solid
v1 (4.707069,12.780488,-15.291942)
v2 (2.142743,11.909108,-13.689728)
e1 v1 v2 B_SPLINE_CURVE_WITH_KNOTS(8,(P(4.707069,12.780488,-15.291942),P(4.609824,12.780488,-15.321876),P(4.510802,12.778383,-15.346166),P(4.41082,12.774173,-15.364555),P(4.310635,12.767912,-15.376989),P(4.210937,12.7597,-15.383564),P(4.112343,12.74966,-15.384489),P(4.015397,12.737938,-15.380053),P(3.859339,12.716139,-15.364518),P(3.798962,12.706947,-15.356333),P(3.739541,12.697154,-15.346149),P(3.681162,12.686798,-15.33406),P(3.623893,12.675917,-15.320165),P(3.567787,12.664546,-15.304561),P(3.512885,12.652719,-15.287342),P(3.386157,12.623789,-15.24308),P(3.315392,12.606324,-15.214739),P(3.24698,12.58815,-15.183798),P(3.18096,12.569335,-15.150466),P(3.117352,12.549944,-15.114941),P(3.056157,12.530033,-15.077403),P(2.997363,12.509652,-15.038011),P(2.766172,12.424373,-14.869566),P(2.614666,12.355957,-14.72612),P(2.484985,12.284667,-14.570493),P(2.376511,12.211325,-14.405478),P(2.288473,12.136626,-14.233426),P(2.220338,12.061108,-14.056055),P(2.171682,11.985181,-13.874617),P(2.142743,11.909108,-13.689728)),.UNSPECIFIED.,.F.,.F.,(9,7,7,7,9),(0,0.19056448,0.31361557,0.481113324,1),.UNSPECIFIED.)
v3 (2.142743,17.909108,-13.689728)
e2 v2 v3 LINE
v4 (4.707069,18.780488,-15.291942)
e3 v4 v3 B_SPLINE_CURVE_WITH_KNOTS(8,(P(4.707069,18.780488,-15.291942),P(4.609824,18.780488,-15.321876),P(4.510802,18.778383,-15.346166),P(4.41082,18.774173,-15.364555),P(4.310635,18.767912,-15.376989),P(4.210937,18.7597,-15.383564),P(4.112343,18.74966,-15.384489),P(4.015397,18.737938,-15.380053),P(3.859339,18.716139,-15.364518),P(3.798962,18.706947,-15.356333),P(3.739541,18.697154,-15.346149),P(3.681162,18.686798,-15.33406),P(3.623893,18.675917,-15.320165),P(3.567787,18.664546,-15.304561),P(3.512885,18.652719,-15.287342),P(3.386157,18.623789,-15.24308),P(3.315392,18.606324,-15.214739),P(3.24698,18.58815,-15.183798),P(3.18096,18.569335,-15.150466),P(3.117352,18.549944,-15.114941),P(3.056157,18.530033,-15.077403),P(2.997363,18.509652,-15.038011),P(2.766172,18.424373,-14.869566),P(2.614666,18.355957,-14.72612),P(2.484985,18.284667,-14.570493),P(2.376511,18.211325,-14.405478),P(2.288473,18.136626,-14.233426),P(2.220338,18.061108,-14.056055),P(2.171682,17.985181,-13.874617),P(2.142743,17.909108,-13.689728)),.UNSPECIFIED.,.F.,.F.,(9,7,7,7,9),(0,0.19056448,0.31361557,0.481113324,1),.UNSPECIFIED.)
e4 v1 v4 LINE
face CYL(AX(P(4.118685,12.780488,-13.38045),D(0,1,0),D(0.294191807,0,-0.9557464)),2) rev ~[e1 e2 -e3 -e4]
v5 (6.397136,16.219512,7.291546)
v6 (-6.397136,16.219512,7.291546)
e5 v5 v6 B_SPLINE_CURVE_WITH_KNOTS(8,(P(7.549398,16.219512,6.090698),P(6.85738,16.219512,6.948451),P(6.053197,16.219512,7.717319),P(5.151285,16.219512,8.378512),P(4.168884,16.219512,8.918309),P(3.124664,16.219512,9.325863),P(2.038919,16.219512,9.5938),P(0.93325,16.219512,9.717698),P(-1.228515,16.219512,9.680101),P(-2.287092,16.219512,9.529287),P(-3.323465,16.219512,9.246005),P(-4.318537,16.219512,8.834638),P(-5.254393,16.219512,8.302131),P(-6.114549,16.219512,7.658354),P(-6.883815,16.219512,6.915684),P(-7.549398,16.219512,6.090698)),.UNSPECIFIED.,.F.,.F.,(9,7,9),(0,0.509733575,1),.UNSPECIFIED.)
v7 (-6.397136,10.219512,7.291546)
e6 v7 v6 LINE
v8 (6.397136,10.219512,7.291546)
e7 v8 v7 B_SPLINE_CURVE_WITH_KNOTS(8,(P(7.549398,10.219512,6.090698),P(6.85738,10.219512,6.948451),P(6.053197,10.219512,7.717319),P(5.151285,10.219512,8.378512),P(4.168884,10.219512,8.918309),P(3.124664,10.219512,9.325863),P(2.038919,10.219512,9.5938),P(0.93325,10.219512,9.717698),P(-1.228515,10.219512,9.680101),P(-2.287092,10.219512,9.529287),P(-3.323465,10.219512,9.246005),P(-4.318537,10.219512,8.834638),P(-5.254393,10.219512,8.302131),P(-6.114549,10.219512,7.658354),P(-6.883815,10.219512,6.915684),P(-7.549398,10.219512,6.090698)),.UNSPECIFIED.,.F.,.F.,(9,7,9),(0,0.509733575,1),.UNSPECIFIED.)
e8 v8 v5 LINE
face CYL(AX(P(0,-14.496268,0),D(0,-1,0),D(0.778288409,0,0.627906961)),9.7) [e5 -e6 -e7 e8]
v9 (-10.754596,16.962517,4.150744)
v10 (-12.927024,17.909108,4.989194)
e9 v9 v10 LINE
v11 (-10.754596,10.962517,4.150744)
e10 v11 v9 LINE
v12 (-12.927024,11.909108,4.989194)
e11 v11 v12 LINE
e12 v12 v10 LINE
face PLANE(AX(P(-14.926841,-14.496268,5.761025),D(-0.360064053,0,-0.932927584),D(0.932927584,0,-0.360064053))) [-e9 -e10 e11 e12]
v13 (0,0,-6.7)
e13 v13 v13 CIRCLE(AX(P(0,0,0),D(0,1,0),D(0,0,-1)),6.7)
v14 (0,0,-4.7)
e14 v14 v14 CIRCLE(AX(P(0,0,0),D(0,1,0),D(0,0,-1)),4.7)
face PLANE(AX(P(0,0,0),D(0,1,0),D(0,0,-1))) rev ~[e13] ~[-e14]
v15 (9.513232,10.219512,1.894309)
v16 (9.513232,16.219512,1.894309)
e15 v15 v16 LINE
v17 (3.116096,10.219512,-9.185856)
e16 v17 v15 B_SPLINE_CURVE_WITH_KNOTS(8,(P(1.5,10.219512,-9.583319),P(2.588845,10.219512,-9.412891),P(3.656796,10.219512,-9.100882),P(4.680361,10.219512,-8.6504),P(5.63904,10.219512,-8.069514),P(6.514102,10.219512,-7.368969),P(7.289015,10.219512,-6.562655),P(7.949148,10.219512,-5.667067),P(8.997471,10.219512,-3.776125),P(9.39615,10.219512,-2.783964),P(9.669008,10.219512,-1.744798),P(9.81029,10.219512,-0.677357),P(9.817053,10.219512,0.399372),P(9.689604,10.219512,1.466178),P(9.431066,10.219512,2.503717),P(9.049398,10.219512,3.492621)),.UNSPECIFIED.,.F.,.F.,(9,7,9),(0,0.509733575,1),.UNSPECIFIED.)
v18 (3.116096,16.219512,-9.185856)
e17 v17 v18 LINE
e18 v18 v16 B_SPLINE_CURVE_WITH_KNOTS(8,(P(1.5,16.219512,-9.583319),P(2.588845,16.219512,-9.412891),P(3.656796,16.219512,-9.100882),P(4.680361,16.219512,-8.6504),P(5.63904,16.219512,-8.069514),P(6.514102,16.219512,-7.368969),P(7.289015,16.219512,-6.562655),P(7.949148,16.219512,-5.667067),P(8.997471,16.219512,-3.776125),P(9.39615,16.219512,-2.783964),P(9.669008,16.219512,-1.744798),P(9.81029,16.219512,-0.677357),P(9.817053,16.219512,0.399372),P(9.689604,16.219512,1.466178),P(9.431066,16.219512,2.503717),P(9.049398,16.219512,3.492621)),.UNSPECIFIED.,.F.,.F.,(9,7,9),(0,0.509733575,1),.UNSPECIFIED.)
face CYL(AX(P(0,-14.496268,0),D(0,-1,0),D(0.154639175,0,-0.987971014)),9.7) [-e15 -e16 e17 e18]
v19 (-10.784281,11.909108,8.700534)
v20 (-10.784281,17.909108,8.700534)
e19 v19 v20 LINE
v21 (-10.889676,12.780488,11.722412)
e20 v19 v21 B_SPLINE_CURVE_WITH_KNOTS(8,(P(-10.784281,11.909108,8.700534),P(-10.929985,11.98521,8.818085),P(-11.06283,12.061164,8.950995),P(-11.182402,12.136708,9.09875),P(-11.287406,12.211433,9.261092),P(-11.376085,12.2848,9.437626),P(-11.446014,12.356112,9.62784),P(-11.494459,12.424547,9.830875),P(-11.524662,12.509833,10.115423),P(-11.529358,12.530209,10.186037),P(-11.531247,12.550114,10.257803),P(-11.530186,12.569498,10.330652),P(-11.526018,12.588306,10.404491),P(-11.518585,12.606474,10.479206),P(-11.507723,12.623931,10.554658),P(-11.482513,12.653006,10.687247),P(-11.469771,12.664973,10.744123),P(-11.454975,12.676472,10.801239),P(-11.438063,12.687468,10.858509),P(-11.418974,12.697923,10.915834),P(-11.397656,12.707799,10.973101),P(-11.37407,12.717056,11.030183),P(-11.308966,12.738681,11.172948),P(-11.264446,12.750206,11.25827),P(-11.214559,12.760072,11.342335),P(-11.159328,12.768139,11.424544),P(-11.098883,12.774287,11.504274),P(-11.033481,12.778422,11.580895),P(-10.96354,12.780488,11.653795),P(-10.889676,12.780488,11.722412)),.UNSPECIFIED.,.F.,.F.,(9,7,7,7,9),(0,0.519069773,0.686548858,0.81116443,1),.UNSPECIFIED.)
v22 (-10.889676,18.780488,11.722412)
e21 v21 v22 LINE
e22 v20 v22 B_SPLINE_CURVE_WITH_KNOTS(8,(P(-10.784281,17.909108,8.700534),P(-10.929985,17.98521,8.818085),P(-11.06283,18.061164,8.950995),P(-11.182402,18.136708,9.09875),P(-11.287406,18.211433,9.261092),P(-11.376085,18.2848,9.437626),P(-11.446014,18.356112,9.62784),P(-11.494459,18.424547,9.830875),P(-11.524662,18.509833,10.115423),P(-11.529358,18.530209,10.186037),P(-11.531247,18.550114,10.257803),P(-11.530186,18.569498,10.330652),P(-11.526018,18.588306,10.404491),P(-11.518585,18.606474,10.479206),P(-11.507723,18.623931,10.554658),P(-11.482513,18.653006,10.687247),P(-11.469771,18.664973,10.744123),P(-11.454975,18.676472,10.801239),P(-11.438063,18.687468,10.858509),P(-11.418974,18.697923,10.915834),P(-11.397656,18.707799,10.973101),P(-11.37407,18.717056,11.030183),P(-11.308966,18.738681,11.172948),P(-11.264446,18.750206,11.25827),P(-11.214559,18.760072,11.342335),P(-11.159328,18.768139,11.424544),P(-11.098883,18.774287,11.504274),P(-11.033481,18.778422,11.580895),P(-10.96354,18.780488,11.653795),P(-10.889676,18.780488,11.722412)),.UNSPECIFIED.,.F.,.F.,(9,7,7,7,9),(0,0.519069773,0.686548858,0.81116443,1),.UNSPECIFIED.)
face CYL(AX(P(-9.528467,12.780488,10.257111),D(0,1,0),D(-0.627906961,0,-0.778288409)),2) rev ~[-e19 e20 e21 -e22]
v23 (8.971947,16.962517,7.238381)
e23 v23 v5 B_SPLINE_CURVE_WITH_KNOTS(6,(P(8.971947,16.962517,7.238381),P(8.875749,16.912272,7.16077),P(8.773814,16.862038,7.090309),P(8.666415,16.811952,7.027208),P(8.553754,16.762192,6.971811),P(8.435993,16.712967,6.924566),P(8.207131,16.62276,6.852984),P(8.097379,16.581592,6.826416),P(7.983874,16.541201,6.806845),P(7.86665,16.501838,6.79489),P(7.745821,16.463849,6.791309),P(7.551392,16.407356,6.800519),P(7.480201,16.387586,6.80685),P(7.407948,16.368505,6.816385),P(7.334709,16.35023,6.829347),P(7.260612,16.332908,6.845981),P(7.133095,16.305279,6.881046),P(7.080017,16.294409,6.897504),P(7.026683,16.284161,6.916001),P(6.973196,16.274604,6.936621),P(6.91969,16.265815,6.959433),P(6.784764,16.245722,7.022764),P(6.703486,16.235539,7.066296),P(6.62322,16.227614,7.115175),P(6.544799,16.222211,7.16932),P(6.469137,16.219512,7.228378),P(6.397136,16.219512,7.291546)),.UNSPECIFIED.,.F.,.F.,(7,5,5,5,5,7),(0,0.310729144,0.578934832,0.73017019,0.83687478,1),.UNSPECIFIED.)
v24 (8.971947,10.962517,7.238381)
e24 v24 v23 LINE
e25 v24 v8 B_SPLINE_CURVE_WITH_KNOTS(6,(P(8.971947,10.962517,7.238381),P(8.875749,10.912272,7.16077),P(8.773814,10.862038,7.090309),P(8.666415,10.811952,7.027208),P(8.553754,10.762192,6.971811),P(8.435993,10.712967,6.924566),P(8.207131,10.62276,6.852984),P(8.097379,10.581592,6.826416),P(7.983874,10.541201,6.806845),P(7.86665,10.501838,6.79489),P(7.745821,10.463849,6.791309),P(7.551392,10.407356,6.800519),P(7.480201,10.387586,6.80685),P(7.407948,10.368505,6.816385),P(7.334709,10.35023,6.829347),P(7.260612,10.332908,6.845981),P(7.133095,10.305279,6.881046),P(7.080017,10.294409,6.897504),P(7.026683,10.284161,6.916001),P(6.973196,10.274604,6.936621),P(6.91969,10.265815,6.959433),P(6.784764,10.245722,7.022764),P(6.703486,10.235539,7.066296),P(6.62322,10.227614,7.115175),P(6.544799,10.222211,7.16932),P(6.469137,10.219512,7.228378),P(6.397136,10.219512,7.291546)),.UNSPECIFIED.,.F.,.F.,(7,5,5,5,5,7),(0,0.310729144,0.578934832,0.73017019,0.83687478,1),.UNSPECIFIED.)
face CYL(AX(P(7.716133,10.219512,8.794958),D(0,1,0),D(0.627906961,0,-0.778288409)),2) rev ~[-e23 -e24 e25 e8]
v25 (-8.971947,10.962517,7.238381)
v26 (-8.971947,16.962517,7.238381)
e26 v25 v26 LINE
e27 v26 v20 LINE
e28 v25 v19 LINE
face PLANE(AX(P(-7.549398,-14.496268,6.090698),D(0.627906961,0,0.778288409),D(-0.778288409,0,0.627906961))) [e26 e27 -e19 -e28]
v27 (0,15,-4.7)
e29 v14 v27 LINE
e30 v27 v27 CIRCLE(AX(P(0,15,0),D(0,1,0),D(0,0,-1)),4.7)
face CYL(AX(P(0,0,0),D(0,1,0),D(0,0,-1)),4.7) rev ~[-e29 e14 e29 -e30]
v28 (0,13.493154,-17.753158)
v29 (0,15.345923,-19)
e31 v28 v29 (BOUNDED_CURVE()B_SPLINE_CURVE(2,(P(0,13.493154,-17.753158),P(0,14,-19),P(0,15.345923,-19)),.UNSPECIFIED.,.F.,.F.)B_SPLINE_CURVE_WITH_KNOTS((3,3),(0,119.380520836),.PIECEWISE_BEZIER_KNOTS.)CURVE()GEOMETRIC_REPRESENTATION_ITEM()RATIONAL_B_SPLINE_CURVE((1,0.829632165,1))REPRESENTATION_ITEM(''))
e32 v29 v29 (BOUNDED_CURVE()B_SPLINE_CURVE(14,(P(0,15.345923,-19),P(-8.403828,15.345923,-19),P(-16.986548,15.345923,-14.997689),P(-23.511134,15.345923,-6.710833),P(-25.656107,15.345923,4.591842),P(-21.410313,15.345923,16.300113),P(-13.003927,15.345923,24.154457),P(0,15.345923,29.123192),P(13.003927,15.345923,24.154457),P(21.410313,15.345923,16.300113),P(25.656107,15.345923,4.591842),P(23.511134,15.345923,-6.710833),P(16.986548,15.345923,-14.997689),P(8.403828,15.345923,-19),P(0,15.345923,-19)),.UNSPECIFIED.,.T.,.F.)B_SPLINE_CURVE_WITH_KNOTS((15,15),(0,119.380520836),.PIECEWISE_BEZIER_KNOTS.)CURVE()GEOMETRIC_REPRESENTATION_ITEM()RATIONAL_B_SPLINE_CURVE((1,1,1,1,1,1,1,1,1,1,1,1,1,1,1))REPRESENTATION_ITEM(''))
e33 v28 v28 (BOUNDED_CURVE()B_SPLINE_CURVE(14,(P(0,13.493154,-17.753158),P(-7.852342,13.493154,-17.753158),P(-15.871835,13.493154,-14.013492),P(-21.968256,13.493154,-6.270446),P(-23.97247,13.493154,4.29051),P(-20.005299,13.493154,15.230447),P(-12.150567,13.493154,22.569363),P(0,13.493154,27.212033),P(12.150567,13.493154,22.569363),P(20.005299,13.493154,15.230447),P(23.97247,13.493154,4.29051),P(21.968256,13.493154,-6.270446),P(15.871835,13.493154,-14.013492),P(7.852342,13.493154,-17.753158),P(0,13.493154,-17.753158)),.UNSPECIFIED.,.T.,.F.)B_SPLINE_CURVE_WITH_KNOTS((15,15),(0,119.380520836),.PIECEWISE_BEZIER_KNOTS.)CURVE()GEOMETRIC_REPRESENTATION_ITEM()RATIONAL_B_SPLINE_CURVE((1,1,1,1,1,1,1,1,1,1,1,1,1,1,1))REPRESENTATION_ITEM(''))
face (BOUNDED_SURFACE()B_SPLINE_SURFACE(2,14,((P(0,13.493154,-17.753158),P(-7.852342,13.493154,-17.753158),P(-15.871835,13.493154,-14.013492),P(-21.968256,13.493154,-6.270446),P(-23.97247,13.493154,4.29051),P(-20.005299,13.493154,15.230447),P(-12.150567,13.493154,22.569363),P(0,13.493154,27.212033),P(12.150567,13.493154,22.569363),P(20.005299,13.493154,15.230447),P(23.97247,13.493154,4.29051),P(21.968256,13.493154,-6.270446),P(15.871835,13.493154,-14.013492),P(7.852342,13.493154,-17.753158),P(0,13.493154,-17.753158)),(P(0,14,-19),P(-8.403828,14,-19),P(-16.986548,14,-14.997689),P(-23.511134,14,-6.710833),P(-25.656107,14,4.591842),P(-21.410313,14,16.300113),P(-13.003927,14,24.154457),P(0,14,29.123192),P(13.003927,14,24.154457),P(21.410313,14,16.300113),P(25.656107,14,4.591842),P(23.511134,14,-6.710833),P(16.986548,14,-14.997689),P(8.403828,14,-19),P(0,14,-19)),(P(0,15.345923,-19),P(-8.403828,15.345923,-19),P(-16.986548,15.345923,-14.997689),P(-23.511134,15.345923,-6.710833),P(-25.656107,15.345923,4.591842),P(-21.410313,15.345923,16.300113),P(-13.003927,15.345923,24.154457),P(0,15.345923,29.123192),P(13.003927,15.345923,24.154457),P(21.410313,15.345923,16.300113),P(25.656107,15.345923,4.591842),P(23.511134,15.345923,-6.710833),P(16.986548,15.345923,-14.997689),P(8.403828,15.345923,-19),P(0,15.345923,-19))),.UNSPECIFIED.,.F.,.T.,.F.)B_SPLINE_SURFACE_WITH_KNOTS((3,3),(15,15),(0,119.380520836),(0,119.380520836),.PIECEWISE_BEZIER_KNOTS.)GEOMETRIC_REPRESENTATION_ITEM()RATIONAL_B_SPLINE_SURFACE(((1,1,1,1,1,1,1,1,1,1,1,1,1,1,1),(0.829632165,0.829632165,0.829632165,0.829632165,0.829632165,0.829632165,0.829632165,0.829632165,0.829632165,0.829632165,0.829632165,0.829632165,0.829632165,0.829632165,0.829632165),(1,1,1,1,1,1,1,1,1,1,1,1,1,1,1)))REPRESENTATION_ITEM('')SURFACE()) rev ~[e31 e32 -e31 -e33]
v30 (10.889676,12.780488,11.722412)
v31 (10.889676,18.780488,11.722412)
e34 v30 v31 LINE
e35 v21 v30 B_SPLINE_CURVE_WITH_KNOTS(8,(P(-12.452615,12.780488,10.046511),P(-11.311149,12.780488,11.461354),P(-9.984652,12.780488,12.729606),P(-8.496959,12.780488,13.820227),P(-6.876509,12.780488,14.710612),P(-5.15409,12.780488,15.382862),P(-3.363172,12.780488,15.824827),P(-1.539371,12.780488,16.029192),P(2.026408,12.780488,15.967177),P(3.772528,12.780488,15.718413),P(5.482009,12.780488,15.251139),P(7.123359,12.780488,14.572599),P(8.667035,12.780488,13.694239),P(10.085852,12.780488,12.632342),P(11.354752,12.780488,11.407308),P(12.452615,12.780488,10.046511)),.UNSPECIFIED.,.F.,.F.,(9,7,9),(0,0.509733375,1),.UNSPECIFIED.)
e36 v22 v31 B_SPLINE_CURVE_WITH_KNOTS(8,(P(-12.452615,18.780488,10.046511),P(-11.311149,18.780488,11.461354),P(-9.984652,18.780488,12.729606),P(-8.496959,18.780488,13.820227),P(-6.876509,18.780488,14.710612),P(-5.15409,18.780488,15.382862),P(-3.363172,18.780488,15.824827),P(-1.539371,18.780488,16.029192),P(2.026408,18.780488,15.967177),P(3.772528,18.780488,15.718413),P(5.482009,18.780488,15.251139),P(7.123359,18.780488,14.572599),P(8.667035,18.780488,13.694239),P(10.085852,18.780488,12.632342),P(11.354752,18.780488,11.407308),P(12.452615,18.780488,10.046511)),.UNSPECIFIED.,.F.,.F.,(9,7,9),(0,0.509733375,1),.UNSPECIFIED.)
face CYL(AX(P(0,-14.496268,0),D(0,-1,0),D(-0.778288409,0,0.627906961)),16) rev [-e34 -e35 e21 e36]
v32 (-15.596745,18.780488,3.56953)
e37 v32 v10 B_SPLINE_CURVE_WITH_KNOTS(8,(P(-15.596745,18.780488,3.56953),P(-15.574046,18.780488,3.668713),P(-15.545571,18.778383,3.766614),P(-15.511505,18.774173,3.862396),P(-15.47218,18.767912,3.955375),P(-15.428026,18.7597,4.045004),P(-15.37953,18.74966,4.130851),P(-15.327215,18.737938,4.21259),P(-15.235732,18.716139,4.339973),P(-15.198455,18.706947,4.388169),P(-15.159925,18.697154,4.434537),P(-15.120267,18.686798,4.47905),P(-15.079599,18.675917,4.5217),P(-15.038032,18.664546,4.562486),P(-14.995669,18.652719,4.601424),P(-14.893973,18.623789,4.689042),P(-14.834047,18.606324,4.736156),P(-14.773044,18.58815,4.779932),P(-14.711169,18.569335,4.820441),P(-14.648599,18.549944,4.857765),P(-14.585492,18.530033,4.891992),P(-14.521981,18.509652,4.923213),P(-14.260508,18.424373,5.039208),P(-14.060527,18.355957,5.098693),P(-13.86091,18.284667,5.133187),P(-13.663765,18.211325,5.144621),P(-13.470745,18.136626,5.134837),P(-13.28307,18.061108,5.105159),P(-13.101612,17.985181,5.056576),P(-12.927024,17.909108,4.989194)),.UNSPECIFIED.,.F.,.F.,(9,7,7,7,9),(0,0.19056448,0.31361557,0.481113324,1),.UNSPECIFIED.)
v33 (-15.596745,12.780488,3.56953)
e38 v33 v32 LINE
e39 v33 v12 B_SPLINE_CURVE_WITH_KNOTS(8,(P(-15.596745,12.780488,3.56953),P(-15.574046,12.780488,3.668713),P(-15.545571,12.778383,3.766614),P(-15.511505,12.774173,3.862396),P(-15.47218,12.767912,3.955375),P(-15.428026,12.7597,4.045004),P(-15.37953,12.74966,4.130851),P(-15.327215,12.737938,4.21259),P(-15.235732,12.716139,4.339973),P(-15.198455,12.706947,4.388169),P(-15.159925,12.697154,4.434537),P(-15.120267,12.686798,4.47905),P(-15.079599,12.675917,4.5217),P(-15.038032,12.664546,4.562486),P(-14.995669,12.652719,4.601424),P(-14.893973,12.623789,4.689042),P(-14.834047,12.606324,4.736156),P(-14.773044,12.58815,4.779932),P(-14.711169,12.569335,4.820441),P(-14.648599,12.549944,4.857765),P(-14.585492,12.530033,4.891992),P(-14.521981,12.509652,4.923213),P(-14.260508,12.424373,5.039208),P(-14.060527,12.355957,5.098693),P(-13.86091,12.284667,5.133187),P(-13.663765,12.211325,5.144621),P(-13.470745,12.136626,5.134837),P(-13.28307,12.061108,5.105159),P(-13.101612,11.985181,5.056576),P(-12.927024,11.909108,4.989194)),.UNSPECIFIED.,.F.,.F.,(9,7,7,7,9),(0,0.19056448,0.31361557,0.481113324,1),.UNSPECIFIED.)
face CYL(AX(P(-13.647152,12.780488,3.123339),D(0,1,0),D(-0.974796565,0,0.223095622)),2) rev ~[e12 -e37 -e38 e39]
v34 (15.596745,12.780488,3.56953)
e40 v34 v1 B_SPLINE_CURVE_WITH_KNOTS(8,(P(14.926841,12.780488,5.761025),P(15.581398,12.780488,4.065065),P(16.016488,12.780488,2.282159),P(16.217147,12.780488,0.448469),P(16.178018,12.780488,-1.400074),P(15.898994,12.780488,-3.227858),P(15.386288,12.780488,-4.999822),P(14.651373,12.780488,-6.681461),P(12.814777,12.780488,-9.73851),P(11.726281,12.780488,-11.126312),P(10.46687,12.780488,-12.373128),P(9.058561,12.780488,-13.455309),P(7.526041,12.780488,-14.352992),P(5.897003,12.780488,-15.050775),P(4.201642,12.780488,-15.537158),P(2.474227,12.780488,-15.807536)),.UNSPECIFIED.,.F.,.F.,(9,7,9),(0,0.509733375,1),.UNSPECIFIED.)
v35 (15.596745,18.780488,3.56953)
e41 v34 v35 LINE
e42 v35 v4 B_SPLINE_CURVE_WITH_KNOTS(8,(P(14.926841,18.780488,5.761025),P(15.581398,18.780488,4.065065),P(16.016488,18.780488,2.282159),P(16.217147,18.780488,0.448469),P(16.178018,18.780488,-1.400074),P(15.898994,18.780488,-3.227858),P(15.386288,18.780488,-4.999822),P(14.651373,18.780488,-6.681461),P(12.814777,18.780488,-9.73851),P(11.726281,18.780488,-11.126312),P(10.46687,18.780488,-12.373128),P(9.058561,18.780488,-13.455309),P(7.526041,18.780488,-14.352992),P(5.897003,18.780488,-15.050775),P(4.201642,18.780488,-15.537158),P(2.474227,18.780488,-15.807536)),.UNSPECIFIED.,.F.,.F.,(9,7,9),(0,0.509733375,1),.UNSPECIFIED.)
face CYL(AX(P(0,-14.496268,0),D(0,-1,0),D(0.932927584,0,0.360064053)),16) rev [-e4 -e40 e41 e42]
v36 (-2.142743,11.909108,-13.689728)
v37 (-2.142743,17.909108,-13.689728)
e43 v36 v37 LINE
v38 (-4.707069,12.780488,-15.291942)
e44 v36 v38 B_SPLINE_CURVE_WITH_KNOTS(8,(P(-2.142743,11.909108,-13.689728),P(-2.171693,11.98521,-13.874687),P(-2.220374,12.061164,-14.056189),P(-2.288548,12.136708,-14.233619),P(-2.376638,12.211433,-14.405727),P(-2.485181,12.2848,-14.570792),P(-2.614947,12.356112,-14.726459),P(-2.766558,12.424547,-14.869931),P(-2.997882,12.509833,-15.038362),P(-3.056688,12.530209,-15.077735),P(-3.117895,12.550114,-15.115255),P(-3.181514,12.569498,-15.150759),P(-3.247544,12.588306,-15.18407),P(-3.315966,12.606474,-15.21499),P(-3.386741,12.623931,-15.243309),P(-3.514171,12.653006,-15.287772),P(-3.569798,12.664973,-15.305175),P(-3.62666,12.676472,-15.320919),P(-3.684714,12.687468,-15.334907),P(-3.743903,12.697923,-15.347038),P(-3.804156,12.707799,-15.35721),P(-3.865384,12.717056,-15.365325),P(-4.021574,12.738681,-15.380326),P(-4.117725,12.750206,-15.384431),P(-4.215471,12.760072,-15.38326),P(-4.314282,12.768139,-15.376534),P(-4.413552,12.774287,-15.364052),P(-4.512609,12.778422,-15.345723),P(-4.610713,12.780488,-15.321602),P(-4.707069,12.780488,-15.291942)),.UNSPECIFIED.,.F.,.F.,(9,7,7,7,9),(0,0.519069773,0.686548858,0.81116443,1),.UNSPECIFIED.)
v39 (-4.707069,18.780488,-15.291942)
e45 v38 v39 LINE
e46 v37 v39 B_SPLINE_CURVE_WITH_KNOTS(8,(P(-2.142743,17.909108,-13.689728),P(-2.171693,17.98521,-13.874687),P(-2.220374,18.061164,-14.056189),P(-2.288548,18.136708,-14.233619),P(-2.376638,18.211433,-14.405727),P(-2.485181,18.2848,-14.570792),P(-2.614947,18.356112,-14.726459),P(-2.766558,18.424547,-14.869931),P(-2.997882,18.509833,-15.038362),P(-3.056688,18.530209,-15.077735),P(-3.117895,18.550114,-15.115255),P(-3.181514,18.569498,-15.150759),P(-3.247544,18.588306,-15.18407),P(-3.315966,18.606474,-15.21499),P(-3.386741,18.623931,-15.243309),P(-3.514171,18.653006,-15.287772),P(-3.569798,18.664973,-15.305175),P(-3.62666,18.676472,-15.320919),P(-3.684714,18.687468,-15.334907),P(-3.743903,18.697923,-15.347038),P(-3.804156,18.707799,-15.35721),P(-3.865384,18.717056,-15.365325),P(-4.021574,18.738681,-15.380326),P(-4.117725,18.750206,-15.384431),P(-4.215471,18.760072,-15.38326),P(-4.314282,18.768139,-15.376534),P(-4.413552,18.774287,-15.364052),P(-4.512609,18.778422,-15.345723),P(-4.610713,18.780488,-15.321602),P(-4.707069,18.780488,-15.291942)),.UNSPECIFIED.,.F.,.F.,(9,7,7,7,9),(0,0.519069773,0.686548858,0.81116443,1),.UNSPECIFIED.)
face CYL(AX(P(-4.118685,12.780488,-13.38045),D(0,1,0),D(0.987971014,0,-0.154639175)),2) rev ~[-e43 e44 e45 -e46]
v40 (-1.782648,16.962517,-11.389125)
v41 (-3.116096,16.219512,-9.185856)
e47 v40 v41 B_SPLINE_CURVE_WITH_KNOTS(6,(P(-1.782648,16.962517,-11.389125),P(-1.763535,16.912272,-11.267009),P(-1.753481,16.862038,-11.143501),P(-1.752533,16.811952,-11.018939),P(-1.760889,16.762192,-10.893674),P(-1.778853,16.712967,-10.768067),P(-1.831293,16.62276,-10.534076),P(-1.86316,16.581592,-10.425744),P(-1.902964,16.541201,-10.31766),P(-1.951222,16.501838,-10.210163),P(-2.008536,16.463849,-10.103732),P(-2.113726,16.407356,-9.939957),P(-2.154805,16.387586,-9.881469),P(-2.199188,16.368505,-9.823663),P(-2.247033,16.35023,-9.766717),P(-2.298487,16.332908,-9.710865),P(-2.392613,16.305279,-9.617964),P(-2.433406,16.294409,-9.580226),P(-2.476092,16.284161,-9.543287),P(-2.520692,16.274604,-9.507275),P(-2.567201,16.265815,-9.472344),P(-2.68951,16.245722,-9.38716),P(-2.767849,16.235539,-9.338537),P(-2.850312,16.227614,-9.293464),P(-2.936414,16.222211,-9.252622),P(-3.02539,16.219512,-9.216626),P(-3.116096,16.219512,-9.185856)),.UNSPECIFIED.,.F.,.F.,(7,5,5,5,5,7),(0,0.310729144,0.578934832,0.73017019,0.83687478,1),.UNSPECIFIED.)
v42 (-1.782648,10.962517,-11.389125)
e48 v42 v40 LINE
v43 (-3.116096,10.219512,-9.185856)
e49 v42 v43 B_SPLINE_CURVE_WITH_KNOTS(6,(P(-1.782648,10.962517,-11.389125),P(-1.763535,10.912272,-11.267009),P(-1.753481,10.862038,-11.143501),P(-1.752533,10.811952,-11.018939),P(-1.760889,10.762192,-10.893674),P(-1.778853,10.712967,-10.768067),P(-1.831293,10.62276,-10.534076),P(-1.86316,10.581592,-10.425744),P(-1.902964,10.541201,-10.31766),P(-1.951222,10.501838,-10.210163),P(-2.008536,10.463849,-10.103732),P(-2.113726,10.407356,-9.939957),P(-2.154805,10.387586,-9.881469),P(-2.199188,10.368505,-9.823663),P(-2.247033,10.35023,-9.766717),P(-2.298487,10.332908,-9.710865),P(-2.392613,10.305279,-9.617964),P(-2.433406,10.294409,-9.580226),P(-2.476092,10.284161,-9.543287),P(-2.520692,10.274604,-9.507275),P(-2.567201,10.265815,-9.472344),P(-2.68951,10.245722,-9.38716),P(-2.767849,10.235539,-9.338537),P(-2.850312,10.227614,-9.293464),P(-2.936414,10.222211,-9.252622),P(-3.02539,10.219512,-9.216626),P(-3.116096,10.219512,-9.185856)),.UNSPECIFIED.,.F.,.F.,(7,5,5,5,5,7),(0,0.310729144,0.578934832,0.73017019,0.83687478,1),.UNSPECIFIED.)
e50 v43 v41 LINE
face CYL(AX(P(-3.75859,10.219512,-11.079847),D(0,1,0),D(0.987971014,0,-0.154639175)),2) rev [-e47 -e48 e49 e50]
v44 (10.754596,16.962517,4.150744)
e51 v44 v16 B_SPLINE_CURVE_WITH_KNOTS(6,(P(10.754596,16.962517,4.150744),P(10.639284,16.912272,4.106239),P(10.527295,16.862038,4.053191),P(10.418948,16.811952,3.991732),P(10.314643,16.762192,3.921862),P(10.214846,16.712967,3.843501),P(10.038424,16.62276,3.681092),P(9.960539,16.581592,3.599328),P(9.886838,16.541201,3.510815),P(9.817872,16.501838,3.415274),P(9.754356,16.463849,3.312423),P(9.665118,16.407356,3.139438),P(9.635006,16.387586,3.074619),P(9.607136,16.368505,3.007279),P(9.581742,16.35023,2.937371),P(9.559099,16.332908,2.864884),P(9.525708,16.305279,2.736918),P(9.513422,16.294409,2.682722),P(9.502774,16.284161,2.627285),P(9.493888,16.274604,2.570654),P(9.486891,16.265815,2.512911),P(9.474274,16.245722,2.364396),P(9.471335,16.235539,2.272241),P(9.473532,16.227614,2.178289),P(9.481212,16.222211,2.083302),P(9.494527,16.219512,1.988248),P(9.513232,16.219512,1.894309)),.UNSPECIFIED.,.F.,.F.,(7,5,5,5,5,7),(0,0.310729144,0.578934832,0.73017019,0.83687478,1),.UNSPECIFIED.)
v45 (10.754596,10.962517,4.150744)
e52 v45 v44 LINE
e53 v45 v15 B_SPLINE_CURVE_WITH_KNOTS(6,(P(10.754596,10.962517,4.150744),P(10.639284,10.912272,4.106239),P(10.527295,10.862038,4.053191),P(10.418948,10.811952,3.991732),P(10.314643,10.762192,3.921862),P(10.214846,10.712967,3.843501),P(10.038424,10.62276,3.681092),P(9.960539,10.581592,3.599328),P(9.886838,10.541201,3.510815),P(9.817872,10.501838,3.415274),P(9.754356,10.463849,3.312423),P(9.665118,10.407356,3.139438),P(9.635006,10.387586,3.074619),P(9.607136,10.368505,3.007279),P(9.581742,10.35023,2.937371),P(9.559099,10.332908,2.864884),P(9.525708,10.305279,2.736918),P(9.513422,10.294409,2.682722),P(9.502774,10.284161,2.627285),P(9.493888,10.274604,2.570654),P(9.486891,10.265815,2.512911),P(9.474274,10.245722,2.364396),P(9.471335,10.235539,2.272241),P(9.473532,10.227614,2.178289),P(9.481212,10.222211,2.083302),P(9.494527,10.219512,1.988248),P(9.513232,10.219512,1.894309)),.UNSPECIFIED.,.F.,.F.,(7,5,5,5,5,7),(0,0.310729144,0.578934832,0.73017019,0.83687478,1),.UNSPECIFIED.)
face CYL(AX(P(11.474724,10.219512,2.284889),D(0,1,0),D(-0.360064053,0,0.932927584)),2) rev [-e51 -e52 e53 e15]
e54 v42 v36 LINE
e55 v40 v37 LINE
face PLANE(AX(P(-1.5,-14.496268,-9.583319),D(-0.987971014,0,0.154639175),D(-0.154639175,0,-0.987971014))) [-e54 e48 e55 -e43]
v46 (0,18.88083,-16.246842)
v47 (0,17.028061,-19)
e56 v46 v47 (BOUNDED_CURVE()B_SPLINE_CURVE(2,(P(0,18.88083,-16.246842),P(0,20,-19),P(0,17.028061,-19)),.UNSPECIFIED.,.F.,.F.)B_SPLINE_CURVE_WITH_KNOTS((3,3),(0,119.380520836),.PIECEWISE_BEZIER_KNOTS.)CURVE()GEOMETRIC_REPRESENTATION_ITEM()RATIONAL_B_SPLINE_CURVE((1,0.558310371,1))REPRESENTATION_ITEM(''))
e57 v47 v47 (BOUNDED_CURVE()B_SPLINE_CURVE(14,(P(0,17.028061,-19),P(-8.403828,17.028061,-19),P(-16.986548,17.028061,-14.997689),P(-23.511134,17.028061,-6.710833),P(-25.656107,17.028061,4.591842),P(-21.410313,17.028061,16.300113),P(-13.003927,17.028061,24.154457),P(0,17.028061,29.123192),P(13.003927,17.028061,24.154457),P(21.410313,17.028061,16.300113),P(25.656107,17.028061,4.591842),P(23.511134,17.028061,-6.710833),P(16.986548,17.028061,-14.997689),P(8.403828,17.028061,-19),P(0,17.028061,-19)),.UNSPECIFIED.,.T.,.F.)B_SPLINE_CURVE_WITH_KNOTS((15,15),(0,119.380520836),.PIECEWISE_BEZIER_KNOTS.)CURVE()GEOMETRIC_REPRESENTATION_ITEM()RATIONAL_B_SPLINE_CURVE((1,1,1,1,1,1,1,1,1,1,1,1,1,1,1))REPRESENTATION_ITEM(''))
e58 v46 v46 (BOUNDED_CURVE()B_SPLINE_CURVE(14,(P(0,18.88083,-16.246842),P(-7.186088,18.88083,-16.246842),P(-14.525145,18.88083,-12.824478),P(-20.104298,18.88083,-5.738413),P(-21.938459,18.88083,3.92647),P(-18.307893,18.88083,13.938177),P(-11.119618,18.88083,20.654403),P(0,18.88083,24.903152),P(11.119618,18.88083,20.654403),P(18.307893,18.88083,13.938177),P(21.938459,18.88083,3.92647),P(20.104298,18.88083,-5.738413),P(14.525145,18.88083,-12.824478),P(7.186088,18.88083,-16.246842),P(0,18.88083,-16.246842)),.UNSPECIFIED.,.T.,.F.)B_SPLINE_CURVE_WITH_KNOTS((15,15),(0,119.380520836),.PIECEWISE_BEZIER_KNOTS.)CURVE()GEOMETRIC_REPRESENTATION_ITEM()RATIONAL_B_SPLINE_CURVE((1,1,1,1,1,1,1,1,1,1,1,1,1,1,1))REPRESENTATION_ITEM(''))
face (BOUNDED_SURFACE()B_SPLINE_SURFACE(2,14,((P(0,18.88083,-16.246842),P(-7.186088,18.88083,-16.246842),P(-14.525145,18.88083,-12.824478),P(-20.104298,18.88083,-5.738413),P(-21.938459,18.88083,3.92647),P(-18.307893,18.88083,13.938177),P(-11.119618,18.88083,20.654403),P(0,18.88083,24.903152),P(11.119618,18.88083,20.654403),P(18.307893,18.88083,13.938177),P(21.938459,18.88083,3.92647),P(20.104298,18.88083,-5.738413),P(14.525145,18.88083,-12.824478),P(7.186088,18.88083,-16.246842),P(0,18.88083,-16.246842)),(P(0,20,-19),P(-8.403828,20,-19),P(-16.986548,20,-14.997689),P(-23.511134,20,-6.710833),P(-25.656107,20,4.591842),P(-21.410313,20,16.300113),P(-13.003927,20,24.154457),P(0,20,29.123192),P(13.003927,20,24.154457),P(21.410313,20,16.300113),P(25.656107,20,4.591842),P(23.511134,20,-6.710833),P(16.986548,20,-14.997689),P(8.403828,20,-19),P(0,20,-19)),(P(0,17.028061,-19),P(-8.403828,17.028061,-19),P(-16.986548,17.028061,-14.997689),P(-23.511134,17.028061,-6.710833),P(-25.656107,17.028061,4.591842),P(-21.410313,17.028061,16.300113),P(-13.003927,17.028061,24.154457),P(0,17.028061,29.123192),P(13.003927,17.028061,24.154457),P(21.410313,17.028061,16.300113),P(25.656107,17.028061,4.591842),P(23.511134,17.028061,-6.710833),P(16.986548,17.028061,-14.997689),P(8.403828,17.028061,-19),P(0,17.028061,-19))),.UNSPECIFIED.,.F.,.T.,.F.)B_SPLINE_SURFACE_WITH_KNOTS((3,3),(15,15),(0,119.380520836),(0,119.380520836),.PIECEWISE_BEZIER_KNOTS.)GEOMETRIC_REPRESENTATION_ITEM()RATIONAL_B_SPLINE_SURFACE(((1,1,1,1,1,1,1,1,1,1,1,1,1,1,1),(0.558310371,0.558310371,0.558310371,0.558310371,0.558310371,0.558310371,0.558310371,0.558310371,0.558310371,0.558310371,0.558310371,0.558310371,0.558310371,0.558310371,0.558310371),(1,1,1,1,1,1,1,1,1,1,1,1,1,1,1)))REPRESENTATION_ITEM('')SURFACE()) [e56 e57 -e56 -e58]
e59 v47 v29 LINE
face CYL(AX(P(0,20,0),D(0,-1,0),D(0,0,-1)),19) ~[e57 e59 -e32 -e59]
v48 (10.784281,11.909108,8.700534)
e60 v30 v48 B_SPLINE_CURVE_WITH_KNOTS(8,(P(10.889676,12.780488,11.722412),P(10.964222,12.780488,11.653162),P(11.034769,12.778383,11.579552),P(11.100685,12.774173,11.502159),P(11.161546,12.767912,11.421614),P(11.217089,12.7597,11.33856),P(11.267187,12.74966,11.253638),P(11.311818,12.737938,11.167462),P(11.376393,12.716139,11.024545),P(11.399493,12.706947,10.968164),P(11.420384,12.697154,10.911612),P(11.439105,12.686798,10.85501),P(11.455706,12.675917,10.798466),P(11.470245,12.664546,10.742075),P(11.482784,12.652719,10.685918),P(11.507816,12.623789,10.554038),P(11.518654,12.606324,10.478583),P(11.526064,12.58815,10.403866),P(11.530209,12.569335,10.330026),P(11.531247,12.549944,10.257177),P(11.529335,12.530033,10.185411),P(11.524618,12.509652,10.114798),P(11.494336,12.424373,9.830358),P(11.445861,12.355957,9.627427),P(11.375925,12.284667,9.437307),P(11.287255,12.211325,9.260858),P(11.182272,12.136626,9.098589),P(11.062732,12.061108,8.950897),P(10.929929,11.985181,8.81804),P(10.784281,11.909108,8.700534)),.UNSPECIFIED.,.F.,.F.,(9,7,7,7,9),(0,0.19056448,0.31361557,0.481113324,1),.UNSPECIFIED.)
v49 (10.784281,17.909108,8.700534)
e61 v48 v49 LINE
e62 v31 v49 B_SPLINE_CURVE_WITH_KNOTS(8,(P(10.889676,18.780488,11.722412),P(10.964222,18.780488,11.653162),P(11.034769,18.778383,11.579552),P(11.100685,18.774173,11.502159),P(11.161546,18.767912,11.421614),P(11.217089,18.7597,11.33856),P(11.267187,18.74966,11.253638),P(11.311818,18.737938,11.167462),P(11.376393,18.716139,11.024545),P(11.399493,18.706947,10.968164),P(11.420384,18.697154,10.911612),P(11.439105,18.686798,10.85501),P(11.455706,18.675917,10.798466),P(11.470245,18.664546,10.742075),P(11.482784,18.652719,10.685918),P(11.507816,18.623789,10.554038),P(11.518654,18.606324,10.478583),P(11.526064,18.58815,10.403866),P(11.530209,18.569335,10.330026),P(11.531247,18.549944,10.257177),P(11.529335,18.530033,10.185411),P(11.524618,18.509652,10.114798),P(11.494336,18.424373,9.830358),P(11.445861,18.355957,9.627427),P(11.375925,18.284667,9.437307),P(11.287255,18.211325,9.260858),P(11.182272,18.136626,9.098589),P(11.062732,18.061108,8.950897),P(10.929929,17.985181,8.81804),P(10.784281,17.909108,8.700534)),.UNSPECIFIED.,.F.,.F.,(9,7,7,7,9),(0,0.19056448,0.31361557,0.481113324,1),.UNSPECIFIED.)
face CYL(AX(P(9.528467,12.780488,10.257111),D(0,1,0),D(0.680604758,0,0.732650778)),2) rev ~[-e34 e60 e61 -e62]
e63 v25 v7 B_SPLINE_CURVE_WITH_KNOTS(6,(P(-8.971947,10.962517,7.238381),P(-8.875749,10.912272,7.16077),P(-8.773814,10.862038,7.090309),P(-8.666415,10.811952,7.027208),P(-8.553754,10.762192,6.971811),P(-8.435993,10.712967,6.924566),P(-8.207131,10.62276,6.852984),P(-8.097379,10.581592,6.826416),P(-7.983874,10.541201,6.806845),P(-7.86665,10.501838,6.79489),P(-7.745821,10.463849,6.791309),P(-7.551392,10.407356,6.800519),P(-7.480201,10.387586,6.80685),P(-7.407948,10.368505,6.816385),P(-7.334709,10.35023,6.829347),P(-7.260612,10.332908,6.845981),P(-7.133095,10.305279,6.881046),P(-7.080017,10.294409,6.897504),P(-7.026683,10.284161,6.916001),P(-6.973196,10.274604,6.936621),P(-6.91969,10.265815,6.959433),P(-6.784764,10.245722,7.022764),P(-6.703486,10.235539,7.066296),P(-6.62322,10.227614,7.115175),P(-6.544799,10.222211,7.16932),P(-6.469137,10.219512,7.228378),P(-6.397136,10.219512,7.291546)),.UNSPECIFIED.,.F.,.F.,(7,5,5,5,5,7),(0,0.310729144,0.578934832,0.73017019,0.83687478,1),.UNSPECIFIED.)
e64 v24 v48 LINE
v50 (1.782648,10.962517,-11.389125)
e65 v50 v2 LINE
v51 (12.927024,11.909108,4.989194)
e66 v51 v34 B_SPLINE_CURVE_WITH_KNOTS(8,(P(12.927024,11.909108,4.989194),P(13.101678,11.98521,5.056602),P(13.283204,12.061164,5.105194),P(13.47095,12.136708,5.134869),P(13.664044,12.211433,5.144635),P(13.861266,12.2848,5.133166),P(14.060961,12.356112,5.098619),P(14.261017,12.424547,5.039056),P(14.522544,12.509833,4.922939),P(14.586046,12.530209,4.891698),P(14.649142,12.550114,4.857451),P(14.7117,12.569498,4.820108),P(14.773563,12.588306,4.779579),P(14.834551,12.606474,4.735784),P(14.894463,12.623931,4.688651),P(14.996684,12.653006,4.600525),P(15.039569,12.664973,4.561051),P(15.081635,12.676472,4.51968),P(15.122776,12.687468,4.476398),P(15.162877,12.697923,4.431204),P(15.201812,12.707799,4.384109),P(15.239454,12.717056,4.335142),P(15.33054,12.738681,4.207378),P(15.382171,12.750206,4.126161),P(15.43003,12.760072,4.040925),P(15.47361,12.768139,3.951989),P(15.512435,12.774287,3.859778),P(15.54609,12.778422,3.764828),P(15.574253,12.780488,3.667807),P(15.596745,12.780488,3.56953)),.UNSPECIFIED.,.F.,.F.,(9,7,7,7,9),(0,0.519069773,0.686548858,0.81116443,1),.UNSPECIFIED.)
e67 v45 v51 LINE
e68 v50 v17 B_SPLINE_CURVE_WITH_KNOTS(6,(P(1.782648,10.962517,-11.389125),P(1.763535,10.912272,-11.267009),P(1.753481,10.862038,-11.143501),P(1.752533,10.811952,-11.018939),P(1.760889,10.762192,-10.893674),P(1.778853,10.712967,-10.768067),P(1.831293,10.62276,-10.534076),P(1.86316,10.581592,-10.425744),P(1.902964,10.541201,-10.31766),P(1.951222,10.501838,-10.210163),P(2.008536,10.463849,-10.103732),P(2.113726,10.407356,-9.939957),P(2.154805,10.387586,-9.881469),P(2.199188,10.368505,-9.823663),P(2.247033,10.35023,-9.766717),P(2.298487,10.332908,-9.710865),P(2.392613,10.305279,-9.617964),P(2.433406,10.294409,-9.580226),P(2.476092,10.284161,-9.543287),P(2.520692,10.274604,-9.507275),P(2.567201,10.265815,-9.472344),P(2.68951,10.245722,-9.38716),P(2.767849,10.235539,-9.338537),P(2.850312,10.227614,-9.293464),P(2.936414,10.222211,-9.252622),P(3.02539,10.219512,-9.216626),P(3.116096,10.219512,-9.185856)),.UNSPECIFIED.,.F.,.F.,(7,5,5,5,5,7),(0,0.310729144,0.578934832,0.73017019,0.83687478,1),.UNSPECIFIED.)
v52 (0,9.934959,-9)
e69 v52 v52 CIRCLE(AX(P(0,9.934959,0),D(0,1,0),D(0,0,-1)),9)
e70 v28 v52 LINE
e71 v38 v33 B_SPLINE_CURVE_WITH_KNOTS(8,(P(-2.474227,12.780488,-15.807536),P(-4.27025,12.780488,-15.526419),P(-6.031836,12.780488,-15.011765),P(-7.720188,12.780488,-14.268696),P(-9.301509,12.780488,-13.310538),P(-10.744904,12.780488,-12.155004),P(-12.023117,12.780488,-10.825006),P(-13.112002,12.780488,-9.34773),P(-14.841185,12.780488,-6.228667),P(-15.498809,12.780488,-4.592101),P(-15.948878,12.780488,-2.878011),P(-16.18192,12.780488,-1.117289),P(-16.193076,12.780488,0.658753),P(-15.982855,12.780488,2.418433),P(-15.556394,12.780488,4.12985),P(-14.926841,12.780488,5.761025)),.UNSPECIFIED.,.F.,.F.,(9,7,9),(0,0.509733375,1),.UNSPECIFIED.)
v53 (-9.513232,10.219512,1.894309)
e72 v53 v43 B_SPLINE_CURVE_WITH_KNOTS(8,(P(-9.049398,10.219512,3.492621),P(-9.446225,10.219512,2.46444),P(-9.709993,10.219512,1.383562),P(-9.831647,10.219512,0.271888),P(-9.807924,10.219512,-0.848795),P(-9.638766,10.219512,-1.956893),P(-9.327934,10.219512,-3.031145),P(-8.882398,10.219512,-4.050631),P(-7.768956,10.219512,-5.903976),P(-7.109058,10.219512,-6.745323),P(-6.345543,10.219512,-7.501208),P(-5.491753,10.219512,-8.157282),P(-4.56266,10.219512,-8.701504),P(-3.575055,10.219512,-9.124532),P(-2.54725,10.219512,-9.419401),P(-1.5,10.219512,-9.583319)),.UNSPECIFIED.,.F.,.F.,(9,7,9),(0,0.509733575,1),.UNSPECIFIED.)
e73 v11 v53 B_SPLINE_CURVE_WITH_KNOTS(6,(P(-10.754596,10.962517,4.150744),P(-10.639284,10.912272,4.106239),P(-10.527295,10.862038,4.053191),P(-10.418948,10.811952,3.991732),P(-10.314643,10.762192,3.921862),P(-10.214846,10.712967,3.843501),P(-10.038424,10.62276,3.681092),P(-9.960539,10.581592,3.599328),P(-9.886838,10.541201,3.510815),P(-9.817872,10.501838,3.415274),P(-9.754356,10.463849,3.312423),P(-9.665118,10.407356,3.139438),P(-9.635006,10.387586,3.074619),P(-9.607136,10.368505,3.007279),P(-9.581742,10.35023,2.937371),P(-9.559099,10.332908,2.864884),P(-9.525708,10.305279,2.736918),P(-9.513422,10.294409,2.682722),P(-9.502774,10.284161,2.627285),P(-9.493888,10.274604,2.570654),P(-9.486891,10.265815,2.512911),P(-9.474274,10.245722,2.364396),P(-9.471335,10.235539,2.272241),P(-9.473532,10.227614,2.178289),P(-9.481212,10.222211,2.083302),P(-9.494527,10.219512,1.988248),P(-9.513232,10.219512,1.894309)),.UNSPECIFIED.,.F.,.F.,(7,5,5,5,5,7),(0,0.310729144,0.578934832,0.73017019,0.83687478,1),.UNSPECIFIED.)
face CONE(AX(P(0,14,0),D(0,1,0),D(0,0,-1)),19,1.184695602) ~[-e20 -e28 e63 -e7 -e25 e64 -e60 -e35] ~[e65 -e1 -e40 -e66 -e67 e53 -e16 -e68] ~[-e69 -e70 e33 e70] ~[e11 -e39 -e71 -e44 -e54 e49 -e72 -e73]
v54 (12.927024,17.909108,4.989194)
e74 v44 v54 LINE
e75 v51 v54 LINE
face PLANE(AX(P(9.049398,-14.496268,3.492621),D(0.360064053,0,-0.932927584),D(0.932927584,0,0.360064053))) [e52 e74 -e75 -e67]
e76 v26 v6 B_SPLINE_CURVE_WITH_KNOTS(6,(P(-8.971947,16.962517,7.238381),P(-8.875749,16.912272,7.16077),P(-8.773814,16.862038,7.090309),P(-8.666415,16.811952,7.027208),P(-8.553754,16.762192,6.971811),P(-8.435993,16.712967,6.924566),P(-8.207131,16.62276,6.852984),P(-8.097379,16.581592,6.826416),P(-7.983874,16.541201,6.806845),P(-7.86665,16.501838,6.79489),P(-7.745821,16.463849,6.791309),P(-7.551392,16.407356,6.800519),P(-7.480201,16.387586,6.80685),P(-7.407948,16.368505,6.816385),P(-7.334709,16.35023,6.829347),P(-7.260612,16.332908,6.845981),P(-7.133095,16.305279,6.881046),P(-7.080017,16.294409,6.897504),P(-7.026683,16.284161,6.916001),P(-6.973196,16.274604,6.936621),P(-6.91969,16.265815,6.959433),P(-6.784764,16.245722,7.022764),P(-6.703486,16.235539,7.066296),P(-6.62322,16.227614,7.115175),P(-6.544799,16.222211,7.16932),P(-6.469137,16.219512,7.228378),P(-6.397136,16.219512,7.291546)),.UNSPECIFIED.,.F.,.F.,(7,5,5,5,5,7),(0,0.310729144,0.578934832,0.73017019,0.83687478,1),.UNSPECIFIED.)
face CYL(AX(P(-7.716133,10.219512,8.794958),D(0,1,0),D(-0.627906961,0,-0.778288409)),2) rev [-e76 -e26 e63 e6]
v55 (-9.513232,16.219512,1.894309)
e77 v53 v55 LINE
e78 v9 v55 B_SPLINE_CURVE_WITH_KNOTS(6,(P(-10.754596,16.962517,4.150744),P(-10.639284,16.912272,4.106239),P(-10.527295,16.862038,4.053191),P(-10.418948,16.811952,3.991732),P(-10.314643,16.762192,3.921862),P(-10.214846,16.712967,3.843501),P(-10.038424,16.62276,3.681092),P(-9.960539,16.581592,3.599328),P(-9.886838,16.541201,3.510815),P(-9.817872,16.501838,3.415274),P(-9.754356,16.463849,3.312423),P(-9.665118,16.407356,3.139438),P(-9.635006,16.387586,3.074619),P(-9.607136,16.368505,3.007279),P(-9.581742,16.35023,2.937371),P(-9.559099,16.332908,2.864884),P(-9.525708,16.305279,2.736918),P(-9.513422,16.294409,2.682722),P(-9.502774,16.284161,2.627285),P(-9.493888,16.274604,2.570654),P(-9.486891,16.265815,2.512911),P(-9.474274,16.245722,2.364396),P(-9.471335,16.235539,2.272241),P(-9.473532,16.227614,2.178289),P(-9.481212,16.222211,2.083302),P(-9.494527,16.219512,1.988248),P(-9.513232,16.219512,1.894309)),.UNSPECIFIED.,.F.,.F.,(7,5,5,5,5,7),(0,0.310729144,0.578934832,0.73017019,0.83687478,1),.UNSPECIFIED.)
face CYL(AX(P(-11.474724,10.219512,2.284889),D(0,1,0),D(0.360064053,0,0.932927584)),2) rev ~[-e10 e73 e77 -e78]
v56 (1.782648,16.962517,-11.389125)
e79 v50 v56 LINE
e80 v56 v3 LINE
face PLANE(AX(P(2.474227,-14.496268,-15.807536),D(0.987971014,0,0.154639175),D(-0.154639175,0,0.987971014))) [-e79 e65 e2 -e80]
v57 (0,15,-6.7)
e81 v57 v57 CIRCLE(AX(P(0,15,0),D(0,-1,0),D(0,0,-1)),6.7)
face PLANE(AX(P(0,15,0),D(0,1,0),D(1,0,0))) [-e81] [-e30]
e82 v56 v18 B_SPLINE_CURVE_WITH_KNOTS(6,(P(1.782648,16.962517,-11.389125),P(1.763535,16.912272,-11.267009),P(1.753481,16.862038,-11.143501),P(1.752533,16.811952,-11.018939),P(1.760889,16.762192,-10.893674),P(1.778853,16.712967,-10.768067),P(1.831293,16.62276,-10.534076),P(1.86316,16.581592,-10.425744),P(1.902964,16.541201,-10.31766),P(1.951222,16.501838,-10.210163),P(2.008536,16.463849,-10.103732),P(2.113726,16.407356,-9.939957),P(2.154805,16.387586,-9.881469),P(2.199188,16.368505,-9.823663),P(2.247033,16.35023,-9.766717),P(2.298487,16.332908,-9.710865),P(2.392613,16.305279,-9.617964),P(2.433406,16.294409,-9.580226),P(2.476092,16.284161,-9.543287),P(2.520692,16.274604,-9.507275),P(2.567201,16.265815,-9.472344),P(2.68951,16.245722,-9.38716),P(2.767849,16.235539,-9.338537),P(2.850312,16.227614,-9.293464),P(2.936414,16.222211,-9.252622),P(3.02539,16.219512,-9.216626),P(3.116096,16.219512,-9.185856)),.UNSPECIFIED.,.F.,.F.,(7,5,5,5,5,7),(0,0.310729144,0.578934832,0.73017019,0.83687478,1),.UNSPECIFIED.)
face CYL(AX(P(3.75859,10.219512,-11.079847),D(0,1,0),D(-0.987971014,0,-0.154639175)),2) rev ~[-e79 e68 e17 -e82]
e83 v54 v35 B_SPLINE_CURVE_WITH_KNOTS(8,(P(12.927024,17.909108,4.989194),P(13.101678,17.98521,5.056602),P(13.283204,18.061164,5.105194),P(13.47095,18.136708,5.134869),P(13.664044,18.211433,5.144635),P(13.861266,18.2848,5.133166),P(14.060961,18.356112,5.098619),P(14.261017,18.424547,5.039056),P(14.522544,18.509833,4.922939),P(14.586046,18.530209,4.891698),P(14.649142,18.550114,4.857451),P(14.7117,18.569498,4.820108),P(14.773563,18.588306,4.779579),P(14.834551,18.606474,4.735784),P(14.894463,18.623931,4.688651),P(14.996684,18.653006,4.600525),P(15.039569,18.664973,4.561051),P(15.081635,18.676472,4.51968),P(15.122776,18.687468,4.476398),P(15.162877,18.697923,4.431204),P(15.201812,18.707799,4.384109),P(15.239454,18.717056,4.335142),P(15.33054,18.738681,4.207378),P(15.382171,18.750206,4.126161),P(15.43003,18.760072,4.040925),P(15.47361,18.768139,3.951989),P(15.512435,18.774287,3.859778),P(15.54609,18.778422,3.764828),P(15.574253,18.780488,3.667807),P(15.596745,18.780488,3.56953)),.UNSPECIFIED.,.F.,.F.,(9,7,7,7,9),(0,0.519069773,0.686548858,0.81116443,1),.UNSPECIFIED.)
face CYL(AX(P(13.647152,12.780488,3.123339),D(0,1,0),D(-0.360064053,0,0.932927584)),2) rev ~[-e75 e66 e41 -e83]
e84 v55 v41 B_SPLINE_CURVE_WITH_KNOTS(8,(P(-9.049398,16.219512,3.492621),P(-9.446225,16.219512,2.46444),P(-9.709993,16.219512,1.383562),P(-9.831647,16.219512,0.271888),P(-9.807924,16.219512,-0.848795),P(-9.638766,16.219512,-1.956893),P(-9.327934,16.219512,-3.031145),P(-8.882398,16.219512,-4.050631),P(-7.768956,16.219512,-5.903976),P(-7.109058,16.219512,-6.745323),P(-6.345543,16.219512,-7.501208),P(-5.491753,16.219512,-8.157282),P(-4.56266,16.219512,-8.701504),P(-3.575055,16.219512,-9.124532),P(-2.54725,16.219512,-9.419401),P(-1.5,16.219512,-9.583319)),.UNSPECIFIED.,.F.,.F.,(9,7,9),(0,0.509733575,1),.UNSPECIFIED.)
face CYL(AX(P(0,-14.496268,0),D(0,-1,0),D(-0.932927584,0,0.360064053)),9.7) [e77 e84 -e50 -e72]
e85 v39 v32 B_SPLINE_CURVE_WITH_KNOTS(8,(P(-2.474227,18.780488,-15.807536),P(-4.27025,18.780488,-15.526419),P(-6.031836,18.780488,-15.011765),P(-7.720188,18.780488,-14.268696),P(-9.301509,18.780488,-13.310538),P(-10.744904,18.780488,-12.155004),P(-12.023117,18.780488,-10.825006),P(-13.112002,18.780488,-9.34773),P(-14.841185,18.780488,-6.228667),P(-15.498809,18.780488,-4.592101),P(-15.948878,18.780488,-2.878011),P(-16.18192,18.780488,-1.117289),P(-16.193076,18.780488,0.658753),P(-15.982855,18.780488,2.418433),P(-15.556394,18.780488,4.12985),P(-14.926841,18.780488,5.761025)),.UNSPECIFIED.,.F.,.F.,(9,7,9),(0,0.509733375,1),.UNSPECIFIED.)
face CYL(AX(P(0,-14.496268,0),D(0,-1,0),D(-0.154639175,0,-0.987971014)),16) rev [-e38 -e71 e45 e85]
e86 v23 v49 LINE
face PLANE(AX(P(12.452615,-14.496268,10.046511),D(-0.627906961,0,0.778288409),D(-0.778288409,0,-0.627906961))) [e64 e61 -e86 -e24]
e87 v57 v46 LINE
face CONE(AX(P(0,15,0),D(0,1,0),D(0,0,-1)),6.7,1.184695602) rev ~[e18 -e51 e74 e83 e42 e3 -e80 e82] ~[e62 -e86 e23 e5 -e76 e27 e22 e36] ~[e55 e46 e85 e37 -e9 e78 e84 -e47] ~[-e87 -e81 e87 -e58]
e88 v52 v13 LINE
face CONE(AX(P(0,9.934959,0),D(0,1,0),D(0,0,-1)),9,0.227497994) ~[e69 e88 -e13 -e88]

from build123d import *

# Parameters (mm, degrees)
ENL_V_MAT_EXTRU_1_DEPTH      = 34.496268449
ENL_V_MAT_EXTRU_1_DEPTH_BACK = 34.496268449
CONG_1_R                     = 2
CONG_2_R                     = 2
ENL_V_START                  = -5
ESQUISSE4_R                  = 6.7
ENL_V_MAT_EXTRU_2_DEPTH      = 5


with BuildPart() as part:
    # Esquisse2 → Révolution1 (revolve)
    with BuildSketch(Plane.XY, mode=Mode.PRIVATE) as r_volution1_sk:
        Polygon((4.7, 0), (4.7, 20), (6.7, 20), (6.7, 15), (19, 20), (19, 14), (9, 9.93495935), (6.7, 0), align=None)
    revolve(r_volution1_sk.sketch.rotate(Axis((0, 0, 0), (0, 1, 0)), 90), axis=Axis((0, 0, 0), (0, 1, 0)))

    # Esquisse3 → Enlèv. mat.-Extru.1 (cut, two sides: drawn at the far end of the back side and taken through both)
    with BuildSketch(Plane(origin=(0, 20, 0), x_dir=(1, 0, 0), z_dir=(0, 1, 0)).offset(-ENL_V_MAT_EXTRU_1_DEPTH_BACK)):
        with BuildLine():
            Line((-1.5, 9.583318841), (-2.474226804, 15.807536232))
            ThreePointArc((-2.474226804, 15.807536232), (-13.856406461, 8), (-14.92684135, -5.761024849))
            Line((-14.92684135, -5.761024849), (-9.049397568, -3.492621315))
            ThreePointArc((-9.049397568, -3.492621315), (-8.400446417, 4.85), (-1.5, 9.583318841))
        make_face()
        with BuildLine():
            Line((9.049397568, -3.492621315), (14.92684135, -5.761024849))
            ThreePointArc((14.92684135, -5.761024849), (13.856406461, 8), (2.474226804, 15.807536232))
            Line((2.474226804, 15.807536232), (1.5, 9.583318841))
            ThreePointArc((1.5, 9.583318841), (8.400446417, 4.85), (9.049397568, -3.492621315))
        make_face()
        with BuildLine():
            Line((-7.549397568, -6.090697526), (-12.452614546, -10.046511383))
            ThreePointArc((-12.452614546, -10.046511383), (0, -16), (12.452614546, -10.046511383))
            Line((12.452614546, -10.046511383), (7.549397568, -6.090697526))
            ThreePointArc((7.549397568, -6.090697526), (0, -9.7), (-7.549397568, -6.090697526))
        make_face()
    extrude(amount=ENL_V_MAT_EXTRU_1_DEPTH + ENL_V_MAT_EXTRU_1_DEPTH_BACK, mode=Mode.SUBTRACT)

    # Congé1
    cong_1_edges = [part.edges().sort_by_distance(p)[0] for p in [
        (0, 14, 19),
        (0, 20, 19),
    ]]
    fillet(cong_1_edges, radius=CONG_1_R)

    # Congé2
    cong_2_edges = [part.edges().sort_by_distance(p)[0] for p in [
        (-14.92684135, 15.780487805, 5.761024849),
        (-2.474226804, 15.780487805, -15.807536232),
        (-1.5, 13.219512195, -9.583318841),
        (-9.049397568, 13.219512195, 3.492621315),
        (2.474226804, 15.780487805, -15.807536232),
        (14.92684135, 15.780487805, 5.761024849),
        (9.049397568, 13.219512195, 3.492621315),
        (1.5, 13.219512195, -9.583318841),
        (12.452614546, 15.780487805, 10.046511383),
        (-12.452614546, 15.780487805, 10.046511383),
        (-7.549397568, 13.219512195, 6.090697526),
        (7.549397568, 13.219512195, 6.090697526),
    ]]
    fillet(cong_2_edges, radius=CONG_2_R)

    # Esquisse4 → Enlèv. mat.-Extru.2 (cut)
    with BuildSketch(Plane(origin=(0, 20, 0), x_dir=(1, 0, 0), z_dir=(0, 1, 0)).offset(ENL_V_START)):
        Circle(ESQUISSE4_R)
    extrude(amount=ENL_V_MAT_EXTRU_2_DEPTH, mode=Mode.SUBTRACT)


solid = part.part
